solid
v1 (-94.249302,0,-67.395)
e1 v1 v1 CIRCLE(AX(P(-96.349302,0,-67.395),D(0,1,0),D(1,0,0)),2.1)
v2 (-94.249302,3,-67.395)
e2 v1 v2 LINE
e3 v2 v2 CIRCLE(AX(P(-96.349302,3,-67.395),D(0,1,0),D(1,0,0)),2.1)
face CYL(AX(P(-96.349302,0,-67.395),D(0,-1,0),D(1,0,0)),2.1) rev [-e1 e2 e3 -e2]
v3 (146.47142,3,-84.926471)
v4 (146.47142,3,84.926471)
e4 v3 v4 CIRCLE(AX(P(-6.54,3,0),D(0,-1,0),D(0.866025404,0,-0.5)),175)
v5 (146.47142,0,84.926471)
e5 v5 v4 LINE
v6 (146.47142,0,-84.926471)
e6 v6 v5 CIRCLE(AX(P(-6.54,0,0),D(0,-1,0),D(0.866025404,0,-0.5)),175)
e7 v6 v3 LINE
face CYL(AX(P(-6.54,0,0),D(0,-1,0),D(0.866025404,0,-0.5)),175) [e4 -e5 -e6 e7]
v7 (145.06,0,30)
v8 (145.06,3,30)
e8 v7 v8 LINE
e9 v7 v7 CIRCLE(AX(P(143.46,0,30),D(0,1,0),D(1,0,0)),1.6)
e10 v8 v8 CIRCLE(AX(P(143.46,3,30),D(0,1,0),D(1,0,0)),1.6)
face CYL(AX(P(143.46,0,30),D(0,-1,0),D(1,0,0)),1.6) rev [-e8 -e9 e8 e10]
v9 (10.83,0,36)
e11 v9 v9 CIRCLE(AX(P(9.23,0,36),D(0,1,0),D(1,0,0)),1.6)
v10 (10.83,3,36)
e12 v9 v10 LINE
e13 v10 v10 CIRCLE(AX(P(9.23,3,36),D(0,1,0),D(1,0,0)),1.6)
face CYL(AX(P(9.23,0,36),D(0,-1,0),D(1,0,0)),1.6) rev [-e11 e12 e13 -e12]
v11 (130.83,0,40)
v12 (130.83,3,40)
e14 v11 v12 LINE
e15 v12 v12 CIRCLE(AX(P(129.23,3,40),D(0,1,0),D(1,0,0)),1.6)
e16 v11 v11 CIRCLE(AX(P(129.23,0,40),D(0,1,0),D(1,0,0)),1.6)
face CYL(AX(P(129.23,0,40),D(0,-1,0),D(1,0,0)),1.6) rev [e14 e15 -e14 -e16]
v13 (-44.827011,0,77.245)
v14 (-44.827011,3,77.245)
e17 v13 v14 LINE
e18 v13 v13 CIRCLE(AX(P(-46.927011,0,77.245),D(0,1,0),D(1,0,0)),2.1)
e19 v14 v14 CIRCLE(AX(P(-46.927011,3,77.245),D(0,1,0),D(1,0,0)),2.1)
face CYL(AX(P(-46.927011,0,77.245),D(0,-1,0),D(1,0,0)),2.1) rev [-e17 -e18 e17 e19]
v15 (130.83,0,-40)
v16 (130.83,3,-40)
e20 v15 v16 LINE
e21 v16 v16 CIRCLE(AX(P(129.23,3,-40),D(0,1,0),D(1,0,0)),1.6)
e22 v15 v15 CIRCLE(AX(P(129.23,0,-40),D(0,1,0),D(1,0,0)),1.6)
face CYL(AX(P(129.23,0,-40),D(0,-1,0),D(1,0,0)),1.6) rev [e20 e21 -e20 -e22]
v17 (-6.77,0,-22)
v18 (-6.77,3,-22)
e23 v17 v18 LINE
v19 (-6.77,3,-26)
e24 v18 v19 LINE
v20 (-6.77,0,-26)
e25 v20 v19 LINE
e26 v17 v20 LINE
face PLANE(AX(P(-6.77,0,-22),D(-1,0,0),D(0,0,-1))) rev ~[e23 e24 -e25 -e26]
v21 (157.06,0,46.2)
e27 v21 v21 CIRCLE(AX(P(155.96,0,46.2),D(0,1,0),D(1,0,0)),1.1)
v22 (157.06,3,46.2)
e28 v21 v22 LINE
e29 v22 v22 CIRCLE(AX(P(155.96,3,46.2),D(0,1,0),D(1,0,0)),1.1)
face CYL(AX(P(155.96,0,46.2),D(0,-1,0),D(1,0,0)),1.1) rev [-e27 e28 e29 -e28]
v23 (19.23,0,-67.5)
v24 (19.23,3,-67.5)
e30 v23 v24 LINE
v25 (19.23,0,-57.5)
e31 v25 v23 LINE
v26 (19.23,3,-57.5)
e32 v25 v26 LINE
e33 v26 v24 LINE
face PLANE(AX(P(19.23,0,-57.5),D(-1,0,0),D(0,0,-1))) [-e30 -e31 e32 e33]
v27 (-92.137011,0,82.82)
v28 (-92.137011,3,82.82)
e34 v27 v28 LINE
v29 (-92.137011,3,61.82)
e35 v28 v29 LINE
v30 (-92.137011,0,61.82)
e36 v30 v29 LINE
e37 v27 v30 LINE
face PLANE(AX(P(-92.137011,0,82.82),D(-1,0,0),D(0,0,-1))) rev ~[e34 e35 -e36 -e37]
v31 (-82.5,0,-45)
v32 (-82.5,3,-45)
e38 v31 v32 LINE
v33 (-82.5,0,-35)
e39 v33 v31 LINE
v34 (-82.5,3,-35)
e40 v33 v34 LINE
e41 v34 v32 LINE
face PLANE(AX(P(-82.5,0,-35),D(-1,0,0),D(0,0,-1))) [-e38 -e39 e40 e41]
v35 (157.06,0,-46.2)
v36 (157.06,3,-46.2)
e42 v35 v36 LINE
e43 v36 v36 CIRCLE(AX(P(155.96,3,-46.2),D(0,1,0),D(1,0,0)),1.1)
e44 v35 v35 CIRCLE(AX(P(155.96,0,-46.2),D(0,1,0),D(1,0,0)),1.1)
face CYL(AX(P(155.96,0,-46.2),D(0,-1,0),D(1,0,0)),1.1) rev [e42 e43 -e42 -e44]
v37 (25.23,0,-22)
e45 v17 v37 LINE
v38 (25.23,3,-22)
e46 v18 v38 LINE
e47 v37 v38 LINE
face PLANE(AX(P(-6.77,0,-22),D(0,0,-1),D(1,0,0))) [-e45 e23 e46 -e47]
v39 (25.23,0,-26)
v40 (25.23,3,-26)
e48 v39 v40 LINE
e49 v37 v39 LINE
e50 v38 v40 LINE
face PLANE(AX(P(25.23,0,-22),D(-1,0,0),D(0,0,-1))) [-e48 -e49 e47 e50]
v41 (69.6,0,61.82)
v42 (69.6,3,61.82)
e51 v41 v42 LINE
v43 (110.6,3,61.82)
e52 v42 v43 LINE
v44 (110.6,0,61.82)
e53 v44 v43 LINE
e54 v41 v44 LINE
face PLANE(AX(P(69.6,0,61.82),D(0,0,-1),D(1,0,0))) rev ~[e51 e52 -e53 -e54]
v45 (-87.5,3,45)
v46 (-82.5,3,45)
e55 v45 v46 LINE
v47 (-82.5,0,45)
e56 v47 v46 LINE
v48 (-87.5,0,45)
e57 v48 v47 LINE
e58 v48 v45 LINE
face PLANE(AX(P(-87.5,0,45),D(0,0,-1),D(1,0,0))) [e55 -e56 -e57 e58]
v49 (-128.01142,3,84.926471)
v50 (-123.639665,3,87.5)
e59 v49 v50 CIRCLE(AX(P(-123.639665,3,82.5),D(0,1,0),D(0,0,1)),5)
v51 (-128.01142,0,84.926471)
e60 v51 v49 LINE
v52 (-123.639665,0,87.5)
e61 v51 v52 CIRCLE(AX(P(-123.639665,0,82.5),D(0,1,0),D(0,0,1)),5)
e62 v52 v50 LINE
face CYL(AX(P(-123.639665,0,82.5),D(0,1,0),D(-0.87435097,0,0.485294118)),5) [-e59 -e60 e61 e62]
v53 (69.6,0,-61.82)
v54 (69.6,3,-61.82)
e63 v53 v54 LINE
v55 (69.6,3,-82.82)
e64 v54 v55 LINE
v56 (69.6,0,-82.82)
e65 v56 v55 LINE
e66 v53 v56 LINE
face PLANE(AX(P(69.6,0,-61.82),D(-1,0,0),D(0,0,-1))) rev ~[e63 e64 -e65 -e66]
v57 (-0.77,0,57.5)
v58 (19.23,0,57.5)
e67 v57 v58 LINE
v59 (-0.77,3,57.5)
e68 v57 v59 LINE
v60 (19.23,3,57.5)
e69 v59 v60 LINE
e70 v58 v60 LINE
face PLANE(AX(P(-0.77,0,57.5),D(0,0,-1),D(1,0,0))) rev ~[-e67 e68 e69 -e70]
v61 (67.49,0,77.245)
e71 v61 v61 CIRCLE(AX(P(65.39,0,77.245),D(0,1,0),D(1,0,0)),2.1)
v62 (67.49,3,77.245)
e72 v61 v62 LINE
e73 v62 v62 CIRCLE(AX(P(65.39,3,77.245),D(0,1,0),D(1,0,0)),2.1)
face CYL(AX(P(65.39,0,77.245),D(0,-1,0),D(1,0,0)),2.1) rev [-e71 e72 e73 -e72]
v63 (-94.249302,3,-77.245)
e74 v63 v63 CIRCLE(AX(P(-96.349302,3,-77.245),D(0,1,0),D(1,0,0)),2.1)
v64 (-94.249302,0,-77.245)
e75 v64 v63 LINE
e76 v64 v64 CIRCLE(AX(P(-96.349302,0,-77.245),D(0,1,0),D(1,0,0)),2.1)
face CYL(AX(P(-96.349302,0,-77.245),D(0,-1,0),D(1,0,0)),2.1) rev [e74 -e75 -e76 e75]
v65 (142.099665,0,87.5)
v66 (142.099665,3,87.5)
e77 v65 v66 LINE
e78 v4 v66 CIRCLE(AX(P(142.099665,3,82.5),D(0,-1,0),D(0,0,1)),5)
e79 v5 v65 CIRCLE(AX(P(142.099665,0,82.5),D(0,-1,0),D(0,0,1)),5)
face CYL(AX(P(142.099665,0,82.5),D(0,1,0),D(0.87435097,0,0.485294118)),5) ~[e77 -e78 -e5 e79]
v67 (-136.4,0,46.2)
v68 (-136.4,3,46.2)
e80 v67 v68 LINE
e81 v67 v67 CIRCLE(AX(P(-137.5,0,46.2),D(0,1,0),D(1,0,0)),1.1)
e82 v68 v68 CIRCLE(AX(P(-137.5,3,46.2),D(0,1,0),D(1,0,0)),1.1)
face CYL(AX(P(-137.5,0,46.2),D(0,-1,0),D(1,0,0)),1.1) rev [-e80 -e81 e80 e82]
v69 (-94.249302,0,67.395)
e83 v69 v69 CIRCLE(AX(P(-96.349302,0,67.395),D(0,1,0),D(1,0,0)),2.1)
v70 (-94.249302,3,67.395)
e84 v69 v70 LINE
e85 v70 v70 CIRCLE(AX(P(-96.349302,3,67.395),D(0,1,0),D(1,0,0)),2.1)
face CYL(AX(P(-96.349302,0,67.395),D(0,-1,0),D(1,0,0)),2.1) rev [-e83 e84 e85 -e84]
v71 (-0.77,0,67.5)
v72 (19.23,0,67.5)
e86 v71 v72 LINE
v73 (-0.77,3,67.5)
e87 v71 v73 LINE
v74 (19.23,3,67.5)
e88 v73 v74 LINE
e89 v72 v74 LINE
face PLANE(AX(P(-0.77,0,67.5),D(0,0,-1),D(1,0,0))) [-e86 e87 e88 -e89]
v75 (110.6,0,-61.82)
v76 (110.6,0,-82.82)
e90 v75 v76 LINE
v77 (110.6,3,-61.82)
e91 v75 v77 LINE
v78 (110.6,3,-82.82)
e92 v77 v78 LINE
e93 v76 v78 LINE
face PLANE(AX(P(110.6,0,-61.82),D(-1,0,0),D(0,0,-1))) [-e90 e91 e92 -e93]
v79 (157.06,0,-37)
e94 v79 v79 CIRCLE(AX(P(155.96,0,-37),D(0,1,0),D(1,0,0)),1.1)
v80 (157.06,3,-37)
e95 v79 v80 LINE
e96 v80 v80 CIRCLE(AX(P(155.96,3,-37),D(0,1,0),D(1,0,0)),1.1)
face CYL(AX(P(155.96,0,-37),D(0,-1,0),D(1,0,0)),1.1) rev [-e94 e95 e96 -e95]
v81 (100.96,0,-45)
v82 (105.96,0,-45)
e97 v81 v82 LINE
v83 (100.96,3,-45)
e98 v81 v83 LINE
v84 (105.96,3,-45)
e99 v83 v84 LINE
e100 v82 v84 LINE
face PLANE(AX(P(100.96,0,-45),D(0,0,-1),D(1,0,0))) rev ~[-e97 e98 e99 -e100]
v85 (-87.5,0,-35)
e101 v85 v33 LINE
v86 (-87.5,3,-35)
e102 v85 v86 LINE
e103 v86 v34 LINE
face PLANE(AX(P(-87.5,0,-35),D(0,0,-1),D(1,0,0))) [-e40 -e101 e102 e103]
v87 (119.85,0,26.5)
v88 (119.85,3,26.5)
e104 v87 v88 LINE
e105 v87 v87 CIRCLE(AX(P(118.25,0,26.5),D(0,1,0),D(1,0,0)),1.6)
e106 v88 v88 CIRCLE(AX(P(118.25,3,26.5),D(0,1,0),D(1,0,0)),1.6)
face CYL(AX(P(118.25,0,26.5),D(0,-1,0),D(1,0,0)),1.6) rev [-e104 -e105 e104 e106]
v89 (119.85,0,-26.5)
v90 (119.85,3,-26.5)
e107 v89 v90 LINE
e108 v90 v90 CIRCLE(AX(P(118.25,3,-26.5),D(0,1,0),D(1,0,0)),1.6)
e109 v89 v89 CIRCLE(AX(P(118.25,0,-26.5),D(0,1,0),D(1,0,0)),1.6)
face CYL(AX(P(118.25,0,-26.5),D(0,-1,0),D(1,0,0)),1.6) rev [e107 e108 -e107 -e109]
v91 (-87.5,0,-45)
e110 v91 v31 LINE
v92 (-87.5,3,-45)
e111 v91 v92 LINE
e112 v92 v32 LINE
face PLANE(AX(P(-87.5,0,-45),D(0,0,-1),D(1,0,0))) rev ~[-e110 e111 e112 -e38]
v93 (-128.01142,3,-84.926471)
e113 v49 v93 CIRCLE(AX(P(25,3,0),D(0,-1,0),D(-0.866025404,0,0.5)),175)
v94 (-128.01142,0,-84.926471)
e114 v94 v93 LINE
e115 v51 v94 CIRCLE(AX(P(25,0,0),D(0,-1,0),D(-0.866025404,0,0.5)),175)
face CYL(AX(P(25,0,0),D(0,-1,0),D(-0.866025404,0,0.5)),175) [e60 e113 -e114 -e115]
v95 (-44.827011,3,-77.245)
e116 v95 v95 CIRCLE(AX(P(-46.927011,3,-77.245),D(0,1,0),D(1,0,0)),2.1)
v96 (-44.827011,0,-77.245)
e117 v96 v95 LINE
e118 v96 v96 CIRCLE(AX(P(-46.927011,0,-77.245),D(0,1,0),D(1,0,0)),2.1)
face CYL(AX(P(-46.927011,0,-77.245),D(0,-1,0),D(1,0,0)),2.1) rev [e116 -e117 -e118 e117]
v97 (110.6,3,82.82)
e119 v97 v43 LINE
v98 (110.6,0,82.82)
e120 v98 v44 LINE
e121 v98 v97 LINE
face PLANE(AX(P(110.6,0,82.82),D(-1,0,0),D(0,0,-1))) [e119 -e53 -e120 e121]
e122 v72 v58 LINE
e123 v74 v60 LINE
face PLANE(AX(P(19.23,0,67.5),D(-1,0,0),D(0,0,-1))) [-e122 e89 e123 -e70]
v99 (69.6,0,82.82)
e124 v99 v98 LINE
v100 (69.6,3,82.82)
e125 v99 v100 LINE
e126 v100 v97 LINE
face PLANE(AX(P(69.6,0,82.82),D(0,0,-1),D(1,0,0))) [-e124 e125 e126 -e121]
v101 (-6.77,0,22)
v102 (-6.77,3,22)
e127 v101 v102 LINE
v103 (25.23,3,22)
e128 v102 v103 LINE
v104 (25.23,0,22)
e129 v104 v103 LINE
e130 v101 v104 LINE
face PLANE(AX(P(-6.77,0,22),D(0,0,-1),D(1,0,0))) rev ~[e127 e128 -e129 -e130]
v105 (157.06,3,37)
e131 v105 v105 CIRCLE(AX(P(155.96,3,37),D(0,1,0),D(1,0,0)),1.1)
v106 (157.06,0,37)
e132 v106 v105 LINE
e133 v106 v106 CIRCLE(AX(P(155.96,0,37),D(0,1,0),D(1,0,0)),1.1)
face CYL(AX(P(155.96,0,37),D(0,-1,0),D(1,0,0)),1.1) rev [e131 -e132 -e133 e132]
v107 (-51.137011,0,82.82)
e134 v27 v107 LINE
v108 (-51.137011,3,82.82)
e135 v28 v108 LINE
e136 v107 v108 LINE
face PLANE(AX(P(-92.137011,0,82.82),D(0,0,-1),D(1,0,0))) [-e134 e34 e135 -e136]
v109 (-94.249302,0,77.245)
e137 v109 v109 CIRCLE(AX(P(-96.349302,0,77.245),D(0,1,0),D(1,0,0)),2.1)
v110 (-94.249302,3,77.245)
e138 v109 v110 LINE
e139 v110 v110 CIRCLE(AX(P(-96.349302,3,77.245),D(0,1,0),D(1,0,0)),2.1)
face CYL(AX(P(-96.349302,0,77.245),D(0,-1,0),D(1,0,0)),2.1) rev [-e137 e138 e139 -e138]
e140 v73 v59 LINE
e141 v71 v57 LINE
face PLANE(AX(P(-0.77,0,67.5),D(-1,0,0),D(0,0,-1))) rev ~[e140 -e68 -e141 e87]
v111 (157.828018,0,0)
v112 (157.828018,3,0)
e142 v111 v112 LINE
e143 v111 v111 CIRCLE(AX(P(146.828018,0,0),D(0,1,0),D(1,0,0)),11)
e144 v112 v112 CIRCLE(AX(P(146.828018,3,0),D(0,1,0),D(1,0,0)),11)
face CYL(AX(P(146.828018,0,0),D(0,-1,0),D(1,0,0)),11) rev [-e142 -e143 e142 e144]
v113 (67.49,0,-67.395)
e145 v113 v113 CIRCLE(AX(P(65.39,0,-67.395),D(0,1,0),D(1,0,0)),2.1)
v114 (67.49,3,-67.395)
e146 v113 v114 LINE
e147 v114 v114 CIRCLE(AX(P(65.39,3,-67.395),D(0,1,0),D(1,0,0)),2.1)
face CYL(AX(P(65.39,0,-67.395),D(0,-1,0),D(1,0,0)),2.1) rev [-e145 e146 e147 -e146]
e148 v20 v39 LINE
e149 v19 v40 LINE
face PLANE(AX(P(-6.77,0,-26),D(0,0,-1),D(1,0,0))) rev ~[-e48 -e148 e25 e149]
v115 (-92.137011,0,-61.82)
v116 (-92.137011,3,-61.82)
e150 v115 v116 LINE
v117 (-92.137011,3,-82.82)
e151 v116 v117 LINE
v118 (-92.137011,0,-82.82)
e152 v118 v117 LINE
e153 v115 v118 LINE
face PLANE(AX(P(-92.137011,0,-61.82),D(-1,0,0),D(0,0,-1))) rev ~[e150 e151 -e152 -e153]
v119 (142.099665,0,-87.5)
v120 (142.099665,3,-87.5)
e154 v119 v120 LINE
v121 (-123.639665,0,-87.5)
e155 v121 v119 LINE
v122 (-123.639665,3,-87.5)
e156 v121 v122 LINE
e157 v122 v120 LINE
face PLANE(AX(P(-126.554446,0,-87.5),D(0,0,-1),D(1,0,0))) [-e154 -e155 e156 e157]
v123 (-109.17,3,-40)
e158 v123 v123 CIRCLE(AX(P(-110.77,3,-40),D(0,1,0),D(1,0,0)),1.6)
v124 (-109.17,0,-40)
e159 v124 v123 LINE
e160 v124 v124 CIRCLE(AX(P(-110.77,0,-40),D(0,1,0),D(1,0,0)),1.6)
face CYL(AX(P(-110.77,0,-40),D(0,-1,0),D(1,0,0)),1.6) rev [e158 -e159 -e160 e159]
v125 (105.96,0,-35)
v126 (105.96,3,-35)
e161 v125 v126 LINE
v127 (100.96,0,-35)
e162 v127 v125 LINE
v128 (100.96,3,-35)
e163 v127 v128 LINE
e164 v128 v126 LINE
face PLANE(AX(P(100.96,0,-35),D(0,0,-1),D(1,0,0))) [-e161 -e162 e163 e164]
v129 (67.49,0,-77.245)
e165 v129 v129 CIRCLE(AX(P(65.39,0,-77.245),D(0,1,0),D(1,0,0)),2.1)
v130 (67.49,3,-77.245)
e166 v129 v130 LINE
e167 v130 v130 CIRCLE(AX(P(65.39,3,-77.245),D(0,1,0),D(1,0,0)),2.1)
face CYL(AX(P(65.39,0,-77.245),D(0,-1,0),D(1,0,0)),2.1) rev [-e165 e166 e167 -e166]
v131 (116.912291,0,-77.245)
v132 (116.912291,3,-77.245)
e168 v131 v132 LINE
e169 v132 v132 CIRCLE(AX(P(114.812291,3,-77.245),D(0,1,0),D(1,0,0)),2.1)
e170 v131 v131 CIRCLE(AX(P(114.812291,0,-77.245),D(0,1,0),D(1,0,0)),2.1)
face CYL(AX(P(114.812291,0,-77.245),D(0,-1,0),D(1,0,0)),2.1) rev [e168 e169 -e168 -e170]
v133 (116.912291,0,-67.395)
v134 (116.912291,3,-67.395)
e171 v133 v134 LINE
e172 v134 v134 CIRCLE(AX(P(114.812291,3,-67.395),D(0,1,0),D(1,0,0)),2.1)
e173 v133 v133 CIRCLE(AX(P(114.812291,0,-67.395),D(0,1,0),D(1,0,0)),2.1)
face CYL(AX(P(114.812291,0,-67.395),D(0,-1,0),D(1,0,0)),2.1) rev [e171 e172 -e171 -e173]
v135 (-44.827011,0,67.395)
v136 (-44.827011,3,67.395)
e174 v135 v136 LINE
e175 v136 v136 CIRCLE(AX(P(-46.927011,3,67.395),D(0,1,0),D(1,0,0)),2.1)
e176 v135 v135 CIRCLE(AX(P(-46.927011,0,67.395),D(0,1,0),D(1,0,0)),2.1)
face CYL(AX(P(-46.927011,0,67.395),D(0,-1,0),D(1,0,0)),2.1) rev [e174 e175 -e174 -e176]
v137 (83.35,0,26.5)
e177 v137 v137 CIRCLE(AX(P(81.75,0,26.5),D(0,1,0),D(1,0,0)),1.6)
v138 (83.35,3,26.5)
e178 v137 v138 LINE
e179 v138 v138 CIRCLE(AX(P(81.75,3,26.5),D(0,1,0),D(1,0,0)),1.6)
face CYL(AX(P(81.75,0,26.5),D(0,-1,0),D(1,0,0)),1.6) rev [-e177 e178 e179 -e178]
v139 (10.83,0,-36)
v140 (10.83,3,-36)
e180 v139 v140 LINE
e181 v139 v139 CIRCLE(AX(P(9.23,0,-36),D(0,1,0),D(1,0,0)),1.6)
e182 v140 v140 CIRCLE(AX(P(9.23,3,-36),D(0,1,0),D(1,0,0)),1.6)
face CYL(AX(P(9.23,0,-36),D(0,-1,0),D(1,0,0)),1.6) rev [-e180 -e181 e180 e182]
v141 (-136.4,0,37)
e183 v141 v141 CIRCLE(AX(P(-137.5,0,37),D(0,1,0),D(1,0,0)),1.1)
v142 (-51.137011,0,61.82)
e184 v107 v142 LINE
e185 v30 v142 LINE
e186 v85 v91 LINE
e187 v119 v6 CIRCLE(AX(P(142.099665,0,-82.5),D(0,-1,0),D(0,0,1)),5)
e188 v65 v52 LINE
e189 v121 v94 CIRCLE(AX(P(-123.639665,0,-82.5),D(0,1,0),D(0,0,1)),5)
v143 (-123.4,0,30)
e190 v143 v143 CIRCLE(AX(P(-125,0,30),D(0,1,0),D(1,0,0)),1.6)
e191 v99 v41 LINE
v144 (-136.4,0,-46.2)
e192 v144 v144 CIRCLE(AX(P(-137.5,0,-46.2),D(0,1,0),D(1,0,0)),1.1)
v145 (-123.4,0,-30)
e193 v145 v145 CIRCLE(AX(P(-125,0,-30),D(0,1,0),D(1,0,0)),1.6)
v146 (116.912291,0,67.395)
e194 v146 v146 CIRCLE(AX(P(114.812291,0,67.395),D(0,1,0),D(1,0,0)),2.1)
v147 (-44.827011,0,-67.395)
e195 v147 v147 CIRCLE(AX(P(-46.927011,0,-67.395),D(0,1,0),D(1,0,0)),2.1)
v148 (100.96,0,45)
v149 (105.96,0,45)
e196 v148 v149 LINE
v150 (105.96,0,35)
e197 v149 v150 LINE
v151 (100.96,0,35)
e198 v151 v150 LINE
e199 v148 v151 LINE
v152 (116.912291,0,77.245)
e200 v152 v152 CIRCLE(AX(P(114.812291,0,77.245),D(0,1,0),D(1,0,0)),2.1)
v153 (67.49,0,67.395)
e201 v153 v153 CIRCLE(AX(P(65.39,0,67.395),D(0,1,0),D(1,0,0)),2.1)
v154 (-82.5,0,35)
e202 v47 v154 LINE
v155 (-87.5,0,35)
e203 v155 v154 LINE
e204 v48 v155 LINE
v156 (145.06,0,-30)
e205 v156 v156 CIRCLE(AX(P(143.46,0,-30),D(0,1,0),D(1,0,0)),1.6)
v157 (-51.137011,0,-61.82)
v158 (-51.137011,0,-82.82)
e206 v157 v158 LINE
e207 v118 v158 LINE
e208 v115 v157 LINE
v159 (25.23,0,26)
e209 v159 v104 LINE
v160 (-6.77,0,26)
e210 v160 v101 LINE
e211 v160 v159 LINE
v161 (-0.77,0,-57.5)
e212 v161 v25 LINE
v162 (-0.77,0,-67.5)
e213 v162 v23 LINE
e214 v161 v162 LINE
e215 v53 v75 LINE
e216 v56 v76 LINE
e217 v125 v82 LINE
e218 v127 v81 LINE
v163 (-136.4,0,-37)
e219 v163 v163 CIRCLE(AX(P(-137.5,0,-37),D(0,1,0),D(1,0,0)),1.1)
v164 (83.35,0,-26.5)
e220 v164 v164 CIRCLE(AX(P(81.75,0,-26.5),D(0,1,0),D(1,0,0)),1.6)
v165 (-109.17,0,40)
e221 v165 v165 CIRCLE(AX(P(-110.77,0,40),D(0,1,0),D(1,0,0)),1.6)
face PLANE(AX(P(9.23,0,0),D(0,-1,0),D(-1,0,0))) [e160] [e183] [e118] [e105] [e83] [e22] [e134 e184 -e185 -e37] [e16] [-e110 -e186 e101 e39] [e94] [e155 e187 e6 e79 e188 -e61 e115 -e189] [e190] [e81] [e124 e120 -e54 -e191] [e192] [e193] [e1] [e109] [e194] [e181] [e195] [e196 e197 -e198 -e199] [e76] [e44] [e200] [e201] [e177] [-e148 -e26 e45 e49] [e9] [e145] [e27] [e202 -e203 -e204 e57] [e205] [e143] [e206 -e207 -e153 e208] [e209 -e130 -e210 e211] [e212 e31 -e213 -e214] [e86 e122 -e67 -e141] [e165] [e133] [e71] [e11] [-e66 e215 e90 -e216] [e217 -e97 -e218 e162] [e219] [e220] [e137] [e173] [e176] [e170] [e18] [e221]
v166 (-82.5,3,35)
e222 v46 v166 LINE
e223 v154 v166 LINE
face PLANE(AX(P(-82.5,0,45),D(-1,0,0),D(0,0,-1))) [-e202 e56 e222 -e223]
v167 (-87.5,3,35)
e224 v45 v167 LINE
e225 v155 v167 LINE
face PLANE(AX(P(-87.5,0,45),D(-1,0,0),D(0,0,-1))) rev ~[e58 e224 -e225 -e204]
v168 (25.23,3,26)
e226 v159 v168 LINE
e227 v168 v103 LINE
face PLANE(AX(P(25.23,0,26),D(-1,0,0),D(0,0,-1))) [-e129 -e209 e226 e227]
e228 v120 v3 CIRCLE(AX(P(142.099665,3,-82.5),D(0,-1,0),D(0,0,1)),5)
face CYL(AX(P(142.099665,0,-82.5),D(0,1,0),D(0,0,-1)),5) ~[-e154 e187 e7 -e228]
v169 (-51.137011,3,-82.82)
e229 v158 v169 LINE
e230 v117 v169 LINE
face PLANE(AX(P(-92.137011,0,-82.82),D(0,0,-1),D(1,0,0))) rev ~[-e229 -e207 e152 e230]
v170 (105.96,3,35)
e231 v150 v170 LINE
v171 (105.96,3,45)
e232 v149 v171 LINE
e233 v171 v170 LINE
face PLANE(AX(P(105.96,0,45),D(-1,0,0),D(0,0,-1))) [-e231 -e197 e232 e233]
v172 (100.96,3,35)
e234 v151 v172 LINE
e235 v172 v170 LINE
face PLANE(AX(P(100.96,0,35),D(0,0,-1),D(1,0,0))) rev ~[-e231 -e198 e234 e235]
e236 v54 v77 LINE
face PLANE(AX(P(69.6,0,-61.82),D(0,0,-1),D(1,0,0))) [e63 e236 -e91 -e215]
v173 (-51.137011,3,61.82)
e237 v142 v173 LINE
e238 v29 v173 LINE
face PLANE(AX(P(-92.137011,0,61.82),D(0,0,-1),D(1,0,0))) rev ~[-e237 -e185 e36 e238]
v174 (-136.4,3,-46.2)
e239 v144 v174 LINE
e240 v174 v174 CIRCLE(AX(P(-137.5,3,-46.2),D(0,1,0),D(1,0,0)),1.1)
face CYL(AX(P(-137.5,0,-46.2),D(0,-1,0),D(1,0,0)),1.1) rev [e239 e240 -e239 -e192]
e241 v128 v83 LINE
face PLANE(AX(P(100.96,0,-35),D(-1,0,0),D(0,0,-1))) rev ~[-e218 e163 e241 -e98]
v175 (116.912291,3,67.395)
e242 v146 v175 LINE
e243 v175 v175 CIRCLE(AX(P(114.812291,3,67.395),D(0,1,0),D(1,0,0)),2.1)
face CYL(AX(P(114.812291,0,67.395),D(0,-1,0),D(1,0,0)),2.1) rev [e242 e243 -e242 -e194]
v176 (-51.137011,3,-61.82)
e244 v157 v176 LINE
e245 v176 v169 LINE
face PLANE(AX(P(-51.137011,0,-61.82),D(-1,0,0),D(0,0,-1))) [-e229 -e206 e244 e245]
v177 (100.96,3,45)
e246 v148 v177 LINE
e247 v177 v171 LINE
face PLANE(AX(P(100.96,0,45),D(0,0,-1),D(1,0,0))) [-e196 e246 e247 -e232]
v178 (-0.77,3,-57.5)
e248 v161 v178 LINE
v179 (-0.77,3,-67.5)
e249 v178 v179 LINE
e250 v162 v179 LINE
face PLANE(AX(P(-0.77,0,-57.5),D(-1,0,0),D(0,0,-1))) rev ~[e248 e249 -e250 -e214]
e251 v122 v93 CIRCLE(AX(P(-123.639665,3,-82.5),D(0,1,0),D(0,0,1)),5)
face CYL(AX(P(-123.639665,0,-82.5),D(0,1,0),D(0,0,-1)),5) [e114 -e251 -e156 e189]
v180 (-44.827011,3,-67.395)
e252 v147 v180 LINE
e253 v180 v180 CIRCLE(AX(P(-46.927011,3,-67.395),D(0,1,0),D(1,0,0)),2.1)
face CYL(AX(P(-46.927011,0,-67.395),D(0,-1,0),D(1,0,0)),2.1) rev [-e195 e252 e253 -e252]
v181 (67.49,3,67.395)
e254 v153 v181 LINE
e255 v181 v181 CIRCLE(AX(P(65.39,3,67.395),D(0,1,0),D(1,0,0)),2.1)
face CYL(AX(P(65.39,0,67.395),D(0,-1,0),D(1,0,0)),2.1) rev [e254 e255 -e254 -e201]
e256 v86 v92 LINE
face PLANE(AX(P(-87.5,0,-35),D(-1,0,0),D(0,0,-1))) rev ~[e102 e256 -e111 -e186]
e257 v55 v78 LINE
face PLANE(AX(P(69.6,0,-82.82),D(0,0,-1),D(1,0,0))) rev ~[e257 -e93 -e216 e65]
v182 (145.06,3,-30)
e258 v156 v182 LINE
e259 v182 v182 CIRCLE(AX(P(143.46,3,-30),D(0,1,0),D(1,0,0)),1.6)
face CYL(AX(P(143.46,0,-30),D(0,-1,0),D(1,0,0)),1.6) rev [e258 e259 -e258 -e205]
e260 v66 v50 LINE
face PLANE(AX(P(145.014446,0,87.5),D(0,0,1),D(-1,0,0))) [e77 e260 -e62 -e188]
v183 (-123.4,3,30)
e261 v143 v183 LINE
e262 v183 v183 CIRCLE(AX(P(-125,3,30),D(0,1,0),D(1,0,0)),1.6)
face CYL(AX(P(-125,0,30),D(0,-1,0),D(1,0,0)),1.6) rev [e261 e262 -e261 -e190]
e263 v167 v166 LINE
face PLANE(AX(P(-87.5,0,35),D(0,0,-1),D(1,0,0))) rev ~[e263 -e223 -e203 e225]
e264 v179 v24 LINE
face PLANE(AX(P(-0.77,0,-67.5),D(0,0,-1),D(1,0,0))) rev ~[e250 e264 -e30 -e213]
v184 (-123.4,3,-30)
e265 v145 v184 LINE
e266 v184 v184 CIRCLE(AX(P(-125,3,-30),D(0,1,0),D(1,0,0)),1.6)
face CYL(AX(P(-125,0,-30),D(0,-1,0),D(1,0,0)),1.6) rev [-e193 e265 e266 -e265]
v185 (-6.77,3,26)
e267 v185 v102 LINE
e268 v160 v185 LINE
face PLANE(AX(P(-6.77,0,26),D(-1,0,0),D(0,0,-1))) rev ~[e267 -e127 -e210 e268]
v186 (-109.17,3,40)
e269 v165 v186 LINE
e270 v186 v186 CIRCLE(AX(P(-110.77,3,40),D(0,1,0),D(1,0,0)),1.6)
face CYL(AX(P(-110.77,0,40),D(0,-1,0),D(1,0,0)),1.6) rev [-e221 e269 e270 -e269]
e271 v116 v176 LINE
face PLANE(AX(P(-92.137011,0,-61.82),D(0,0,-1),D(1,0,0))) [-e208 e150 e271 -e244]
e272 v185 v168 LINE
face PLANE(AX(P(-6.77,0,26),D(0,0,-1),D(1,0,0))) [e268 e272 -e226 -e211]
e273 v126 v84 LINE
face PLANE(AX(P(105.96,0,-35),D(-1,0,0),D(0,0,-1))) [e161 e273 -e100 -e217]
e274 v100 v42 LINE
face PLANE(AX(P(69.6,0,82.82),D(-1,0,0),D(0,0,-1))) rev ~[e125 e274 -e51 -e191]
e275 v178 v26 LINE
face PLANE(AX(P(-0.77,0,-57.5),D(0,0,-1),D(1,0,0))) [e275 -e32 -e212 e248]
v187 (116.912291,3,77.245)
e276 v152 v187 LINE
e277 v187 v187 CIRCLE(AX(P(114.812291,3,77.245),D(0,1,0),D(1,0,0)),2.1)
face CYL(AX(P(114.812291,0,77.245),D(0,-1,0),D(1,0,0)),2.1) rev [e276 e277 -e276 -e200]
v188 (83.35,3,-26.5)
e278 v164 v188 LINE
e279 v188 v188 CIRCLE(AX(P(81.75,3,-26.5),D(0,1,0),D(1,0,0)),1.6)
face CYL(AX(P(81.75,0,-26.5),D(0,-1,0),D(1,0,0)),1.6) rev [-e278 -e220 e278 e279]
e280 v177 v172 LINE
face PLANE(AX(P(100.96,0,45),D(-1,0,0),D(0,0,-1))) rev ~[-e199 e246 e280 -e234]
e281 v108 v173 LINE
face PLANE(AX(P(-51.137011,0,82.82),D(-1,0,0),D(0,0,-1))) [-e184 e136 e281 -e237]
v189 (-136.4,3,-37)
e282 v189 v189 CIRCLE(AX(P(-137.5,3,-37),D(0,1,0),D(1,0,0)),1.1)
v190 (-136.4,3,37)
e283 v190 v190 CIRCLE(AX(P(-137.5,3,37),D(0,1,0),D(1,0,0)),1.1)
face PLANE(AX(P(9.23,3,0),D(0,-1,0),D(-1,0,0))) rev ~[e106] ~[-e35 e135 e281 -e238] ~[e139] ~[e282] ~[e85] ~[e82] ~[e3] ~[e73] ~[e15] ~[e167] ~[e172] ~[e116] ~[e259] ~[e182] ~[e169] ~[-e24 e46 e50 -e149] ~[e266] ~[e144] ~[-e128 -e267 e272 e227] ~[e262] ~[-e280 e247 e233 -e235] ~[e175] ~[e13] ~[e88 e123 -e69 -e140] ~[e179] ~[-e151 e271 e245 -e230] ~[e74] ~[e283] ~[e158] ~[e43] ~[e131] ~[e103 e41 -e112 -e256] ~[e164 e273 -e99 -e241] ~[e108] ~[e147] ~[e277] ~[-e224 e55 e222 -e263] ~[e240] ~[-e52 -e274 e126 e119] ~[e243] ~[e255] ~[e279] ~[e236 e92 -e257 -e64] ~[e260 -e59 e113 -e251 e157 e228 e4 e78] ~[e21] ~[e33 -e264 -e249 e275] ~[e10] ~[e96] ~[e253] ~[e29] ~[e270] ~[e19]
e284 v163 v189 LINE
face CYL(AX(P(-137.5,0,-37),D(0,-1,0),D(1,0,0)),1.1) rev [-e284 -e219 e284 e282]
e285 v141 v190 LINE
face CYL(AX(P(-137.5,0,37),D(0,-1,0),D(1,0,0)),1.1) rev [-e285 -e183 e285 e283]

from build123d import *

# Parameters (mm, degrees)
SKETCH1_R           = 1.6
SKETCH1_R_2         = 1.1
SKETCH1_R_3         = 2.1
SKETCH1_R_4         = 11
SKETCH1_W           = 32
SKETCH1_H           = 4
SKETCH1_W_2         = 20
SKETCH1_H_2         = 10
SKETCH1_W_3         = 41
SKETCH1_H_3         = 21
SKETCH1_W_4         = 5
BOSS_EXTRUDE1_DEPTH = 3
FILLET1_R           = 5


with BuildPart() as part:
    # Sketch1 → Boss-Extrude1 (new body)
    with BuildSketch(Plane(origin=(0, 0, 0), x_dir=(1, 0, 0), z_dir=(0, 1, 0))):
        with BuildLine():
            Line((-126.554445662, 87.5), (-104.054445662, 87.5))
            Line((-104.054445662, 87.5), (-18.218162556, 87.5))
            Line((-18.218162556, 87.5), (40.836283106, 87.5))
            Line((40.836283106, 87.5), (120.836283106, 87.5))
            Line((120.836283106, 87.5), (137.792290187, 87.5))
            Line((137.792290187, 87.5), (145.014445662, 87.5))
            ThreePointArc((145.014445662, 87.5), (168.46, 0), (145.014445662, -87.5))
            Line((145.014445662, -87.5), (137.792290187, -87.5))
            Line((137.792290187, -87.5), (120.836283106, -87.5))
            Line((120.836283106, -87.5), (40.836283106, -87.5))
            Line((40.836283106, -87.5), (-18.218162556, -87.5))
            Line((-18.218162556, -87.5), (-104.054445662, -87.5))
            Line((-104.054445662, -87.5), (-126.554445662, -87.5))
            ThreePointArc((-126.554445662, -87.5), (-150, 0), (-126.554445662, 87.5))
        make_face()
        with Locations((-110.77, 40)):
            Circle(SKETCH1_R, mode=Mode.SUBTRACT)
        with Locations((-110.77, -40)):
            Circle(SKETCH1_R, mode=Mode.SUBTRACT)
        with Locations((-125, -30)):
            Circle(SKETCH1_R, mode=Mode.SUBTRACT)
        with Locations((9.23, -36)):
            Circle(SKETCH1_R, mode=Mode.SUBTRACT)
        with Locations((143.46, -30)):
            Circle(SKETCH1_R, mode=Mode.SUBTRACT)
        with Locations((143.46, 30)):
            Circle(SKETCH1_R, mode=Mode.SUBTRACT)
        with Locations((9.23, 36)):
            Circle(SKETCH1_R, mode=Mode.SUBTRACT)
        with Locations((-125, 30)):
            Circle(SKETCH1_R, mode=Mode.SUBTRACT)
        with Locations((-137.5, 37)):
            Circle(SKETCH1_R_2, mode=Mode.SUBTRACT)
        with Locations((-137.5, 46.2)):
            Circle(SKETCH1_R_2, mode=Mode.SUBTRACT)
        with Locations((-137.5, -37)):
            Circle(SKETCH1_R_2, mode=Mode.SUBTRACT)
        with Locations((-137.5, -46.2)):
            Circle(SKETCH1_R_2, mode=Mode.SUBTRACT)
        with Locations((65.39, -77.245)):
            Circle(SKETCH1_R_3, mode=Mode.SUBTRACT)
        with Locations((65.39, -67.395)):
            Circle(SKETCH1_R_3, mode=Mode.SUBTRACT)
        with Locations((114.812291, -77.245)):
            Circle(SKETCH1_R_3, mode=Mode.SUBTRACT)
        with Locations((114.812291, -67.395)):
            Circle(SKETCH1_R_3, mode=Mode.SUBTRACT)
        with Locations((114.812291, 67.395)):
            Circle(SKETCH1_R_3, mode=Mode.SUBTRACT)
        with Locations((114.812291, 77.245)):
            Circle(SKETCH1_R_3, mode=Mode.SUBTRACT)
        with Locations((65.39, 67.395)):
            Circle(SKETCH1_R_3, mode=Mode.SUBTRACT)
        with Locations((65.39, 77.245)):
            Circle(SKETCH1_R_3, mode=Mode.SUBTRACT)
        with Locations((155.96, 37)):
            Circle(SKETCH1_R_2, mode=Mode.SUBTRACT)
        with Locations((155.96, 46.2)):
            Circle(SKETCH1_R_2, mode=Mode.SUBTRACT)
        with Locations((155.96, -46.2)):
            Circle(SKETCH1_R_2, mode=Mode.SUBTRACT)
        with Locations((155.96, -37)):
            Circle(SKETCH1_R_2, mode=Mode.SUBTRACT)
        with Locations((-46.927011093, -67.395)):
            Circle(SKETCH1_R_3, mode=Mode.SUBTRACT)
        with Locations((-46.927011093, -77.245)):
            Circle(SKETCH1_R_3, mode=Mode.SUBTRACT)
        with Locations((-96.349302093, -67.395)):
            Circle(SKETCH1_R_3, mode=Mode.SUBTRACT)
        with Locations((-96.349302093, -77.245)):
            Circle(SKETCH1_R_3, mode=Mode.SUBTRACT)
        with Locations((-96.349302093, 77.245)):
            Circle(SKETCH1_R_3, mode=Mode.SUBTRACT)
        with Locations((-96.349302093, 67.395)):
            Circle(SKETCH1_R_3, mode=Mode.SUBTRACT)
        with Locations((-46.927011093, 77.245)):
            Circle(SKETCH1_R_3, mode=Mode.SUBTRACT)
        with Locations((-46.927011093, 67.395)):
            Circle(SKETCH1_R_3, mode=Mode.SUBTRACT)
        with Locations((129.23, 40)):
            Circle(SKETCH1_R, mode=Mode.SUBTRACT)
        with Locations((129.23, -40)):
            Circle(SKETCH1_R, mode=Mode.SUBTRACT)
        with Locations((81.75, 26.5)):
            Circle(SKETCH1_R, mode=Mode.SUBTRACT)
        with Locations((146.828017544, 0)):
            Circle(SKETCH1_R_4, mode=Mode.SUBTRACT)
        with Locations((118.25, 26.5)):
            Circle(SKETCH1_R, mode=Mode.SUBTRACT)
        with Locations((81.75, -26.5)):
            Circle(SKETCH1_R, mode=Mode.SUBTRACT)
        with Locations((118.25, -26.5)):
            Circle(SKETCH1_R, mode=Mode.SUBTRACT)
        with Locations((9.23, 24)):
            Rectangle(SKETCH1_W, SKETCH1_H, mode=Mode.SUBTRACT)
        with Locations((9.23, -24)):
            Rectangle(SKETCH1_W, SKETCH1_H, mode=Mode.SUBTRACT)
        with Locations((9.23, 62.5)):
            Rectangle(SKETCH1_W_2, SKETCH1_H_2, mode=Mode.SUBTRACT)
        with Locations((9.23, -62.5)):
            Rectangle(SKETCH1_W_2, SKETCH1_H_2, mode=Mode.SUBTRACT)
        with Locations((90.1, 72.32)):
            Rectangle(SKETCH1_W_3, SKETCH1_H_3, mode=Mode.SUBTRACT)
        with Locations((90.1, -72.32)):
            Rectangle(SKETCH1_W_3, SKETCH1_H_3, mode=Mode.SUBTRACT)
        with Locations((-71.637011093, 72.32)):
            Rectangle(SKETCH1_W_3, SKETCH1_H_3, mode=Mode.SUBTRACT)
        with Locations((-71.637011093, -72.32)):
            Rectangle(SKETCH1_W_3, SKETCH1_H_3, mode=Mode.SUBTRACT)
        with Locations((-85, 40)):
            Rectangle(SKETCH1_W_4, SKETCH1_H_2, mode=Mode.SUBTRACT)
        with Locations((-85, -40)):
            Rectangle(SKETCH1_W_4, SKETCH1_H_2, mode=Mode.SUBTRACT)
        with Locations((103.46, 40)):
            Rectangle(SKETCH1_W_4, SKETCH1_H_2, mode=Mode.SUBTRACT)
        with Locations((103.46, -40)):
            Rectangle(SKETCH1_W_4, SKETCH1_H_2, mode=Mode.SUBTRACT)
    extrude(amount=BOSS_EXTRUDE1_DEPTH)

    # Fillet1
    fillet1_edges = [part.edges().sort_by_distance(p)[0] for p in [
        (-126.554445662, 1.5, 87.5),
        (-126.554445662, 1.5, -87.5),
        (145.014445662, 1.5, -87.5),
        (145.014445662, 1.5, 87.5),
    ]]
    fillet(fillet1_edges, radius=FILLET1_R)


solid = part.part
